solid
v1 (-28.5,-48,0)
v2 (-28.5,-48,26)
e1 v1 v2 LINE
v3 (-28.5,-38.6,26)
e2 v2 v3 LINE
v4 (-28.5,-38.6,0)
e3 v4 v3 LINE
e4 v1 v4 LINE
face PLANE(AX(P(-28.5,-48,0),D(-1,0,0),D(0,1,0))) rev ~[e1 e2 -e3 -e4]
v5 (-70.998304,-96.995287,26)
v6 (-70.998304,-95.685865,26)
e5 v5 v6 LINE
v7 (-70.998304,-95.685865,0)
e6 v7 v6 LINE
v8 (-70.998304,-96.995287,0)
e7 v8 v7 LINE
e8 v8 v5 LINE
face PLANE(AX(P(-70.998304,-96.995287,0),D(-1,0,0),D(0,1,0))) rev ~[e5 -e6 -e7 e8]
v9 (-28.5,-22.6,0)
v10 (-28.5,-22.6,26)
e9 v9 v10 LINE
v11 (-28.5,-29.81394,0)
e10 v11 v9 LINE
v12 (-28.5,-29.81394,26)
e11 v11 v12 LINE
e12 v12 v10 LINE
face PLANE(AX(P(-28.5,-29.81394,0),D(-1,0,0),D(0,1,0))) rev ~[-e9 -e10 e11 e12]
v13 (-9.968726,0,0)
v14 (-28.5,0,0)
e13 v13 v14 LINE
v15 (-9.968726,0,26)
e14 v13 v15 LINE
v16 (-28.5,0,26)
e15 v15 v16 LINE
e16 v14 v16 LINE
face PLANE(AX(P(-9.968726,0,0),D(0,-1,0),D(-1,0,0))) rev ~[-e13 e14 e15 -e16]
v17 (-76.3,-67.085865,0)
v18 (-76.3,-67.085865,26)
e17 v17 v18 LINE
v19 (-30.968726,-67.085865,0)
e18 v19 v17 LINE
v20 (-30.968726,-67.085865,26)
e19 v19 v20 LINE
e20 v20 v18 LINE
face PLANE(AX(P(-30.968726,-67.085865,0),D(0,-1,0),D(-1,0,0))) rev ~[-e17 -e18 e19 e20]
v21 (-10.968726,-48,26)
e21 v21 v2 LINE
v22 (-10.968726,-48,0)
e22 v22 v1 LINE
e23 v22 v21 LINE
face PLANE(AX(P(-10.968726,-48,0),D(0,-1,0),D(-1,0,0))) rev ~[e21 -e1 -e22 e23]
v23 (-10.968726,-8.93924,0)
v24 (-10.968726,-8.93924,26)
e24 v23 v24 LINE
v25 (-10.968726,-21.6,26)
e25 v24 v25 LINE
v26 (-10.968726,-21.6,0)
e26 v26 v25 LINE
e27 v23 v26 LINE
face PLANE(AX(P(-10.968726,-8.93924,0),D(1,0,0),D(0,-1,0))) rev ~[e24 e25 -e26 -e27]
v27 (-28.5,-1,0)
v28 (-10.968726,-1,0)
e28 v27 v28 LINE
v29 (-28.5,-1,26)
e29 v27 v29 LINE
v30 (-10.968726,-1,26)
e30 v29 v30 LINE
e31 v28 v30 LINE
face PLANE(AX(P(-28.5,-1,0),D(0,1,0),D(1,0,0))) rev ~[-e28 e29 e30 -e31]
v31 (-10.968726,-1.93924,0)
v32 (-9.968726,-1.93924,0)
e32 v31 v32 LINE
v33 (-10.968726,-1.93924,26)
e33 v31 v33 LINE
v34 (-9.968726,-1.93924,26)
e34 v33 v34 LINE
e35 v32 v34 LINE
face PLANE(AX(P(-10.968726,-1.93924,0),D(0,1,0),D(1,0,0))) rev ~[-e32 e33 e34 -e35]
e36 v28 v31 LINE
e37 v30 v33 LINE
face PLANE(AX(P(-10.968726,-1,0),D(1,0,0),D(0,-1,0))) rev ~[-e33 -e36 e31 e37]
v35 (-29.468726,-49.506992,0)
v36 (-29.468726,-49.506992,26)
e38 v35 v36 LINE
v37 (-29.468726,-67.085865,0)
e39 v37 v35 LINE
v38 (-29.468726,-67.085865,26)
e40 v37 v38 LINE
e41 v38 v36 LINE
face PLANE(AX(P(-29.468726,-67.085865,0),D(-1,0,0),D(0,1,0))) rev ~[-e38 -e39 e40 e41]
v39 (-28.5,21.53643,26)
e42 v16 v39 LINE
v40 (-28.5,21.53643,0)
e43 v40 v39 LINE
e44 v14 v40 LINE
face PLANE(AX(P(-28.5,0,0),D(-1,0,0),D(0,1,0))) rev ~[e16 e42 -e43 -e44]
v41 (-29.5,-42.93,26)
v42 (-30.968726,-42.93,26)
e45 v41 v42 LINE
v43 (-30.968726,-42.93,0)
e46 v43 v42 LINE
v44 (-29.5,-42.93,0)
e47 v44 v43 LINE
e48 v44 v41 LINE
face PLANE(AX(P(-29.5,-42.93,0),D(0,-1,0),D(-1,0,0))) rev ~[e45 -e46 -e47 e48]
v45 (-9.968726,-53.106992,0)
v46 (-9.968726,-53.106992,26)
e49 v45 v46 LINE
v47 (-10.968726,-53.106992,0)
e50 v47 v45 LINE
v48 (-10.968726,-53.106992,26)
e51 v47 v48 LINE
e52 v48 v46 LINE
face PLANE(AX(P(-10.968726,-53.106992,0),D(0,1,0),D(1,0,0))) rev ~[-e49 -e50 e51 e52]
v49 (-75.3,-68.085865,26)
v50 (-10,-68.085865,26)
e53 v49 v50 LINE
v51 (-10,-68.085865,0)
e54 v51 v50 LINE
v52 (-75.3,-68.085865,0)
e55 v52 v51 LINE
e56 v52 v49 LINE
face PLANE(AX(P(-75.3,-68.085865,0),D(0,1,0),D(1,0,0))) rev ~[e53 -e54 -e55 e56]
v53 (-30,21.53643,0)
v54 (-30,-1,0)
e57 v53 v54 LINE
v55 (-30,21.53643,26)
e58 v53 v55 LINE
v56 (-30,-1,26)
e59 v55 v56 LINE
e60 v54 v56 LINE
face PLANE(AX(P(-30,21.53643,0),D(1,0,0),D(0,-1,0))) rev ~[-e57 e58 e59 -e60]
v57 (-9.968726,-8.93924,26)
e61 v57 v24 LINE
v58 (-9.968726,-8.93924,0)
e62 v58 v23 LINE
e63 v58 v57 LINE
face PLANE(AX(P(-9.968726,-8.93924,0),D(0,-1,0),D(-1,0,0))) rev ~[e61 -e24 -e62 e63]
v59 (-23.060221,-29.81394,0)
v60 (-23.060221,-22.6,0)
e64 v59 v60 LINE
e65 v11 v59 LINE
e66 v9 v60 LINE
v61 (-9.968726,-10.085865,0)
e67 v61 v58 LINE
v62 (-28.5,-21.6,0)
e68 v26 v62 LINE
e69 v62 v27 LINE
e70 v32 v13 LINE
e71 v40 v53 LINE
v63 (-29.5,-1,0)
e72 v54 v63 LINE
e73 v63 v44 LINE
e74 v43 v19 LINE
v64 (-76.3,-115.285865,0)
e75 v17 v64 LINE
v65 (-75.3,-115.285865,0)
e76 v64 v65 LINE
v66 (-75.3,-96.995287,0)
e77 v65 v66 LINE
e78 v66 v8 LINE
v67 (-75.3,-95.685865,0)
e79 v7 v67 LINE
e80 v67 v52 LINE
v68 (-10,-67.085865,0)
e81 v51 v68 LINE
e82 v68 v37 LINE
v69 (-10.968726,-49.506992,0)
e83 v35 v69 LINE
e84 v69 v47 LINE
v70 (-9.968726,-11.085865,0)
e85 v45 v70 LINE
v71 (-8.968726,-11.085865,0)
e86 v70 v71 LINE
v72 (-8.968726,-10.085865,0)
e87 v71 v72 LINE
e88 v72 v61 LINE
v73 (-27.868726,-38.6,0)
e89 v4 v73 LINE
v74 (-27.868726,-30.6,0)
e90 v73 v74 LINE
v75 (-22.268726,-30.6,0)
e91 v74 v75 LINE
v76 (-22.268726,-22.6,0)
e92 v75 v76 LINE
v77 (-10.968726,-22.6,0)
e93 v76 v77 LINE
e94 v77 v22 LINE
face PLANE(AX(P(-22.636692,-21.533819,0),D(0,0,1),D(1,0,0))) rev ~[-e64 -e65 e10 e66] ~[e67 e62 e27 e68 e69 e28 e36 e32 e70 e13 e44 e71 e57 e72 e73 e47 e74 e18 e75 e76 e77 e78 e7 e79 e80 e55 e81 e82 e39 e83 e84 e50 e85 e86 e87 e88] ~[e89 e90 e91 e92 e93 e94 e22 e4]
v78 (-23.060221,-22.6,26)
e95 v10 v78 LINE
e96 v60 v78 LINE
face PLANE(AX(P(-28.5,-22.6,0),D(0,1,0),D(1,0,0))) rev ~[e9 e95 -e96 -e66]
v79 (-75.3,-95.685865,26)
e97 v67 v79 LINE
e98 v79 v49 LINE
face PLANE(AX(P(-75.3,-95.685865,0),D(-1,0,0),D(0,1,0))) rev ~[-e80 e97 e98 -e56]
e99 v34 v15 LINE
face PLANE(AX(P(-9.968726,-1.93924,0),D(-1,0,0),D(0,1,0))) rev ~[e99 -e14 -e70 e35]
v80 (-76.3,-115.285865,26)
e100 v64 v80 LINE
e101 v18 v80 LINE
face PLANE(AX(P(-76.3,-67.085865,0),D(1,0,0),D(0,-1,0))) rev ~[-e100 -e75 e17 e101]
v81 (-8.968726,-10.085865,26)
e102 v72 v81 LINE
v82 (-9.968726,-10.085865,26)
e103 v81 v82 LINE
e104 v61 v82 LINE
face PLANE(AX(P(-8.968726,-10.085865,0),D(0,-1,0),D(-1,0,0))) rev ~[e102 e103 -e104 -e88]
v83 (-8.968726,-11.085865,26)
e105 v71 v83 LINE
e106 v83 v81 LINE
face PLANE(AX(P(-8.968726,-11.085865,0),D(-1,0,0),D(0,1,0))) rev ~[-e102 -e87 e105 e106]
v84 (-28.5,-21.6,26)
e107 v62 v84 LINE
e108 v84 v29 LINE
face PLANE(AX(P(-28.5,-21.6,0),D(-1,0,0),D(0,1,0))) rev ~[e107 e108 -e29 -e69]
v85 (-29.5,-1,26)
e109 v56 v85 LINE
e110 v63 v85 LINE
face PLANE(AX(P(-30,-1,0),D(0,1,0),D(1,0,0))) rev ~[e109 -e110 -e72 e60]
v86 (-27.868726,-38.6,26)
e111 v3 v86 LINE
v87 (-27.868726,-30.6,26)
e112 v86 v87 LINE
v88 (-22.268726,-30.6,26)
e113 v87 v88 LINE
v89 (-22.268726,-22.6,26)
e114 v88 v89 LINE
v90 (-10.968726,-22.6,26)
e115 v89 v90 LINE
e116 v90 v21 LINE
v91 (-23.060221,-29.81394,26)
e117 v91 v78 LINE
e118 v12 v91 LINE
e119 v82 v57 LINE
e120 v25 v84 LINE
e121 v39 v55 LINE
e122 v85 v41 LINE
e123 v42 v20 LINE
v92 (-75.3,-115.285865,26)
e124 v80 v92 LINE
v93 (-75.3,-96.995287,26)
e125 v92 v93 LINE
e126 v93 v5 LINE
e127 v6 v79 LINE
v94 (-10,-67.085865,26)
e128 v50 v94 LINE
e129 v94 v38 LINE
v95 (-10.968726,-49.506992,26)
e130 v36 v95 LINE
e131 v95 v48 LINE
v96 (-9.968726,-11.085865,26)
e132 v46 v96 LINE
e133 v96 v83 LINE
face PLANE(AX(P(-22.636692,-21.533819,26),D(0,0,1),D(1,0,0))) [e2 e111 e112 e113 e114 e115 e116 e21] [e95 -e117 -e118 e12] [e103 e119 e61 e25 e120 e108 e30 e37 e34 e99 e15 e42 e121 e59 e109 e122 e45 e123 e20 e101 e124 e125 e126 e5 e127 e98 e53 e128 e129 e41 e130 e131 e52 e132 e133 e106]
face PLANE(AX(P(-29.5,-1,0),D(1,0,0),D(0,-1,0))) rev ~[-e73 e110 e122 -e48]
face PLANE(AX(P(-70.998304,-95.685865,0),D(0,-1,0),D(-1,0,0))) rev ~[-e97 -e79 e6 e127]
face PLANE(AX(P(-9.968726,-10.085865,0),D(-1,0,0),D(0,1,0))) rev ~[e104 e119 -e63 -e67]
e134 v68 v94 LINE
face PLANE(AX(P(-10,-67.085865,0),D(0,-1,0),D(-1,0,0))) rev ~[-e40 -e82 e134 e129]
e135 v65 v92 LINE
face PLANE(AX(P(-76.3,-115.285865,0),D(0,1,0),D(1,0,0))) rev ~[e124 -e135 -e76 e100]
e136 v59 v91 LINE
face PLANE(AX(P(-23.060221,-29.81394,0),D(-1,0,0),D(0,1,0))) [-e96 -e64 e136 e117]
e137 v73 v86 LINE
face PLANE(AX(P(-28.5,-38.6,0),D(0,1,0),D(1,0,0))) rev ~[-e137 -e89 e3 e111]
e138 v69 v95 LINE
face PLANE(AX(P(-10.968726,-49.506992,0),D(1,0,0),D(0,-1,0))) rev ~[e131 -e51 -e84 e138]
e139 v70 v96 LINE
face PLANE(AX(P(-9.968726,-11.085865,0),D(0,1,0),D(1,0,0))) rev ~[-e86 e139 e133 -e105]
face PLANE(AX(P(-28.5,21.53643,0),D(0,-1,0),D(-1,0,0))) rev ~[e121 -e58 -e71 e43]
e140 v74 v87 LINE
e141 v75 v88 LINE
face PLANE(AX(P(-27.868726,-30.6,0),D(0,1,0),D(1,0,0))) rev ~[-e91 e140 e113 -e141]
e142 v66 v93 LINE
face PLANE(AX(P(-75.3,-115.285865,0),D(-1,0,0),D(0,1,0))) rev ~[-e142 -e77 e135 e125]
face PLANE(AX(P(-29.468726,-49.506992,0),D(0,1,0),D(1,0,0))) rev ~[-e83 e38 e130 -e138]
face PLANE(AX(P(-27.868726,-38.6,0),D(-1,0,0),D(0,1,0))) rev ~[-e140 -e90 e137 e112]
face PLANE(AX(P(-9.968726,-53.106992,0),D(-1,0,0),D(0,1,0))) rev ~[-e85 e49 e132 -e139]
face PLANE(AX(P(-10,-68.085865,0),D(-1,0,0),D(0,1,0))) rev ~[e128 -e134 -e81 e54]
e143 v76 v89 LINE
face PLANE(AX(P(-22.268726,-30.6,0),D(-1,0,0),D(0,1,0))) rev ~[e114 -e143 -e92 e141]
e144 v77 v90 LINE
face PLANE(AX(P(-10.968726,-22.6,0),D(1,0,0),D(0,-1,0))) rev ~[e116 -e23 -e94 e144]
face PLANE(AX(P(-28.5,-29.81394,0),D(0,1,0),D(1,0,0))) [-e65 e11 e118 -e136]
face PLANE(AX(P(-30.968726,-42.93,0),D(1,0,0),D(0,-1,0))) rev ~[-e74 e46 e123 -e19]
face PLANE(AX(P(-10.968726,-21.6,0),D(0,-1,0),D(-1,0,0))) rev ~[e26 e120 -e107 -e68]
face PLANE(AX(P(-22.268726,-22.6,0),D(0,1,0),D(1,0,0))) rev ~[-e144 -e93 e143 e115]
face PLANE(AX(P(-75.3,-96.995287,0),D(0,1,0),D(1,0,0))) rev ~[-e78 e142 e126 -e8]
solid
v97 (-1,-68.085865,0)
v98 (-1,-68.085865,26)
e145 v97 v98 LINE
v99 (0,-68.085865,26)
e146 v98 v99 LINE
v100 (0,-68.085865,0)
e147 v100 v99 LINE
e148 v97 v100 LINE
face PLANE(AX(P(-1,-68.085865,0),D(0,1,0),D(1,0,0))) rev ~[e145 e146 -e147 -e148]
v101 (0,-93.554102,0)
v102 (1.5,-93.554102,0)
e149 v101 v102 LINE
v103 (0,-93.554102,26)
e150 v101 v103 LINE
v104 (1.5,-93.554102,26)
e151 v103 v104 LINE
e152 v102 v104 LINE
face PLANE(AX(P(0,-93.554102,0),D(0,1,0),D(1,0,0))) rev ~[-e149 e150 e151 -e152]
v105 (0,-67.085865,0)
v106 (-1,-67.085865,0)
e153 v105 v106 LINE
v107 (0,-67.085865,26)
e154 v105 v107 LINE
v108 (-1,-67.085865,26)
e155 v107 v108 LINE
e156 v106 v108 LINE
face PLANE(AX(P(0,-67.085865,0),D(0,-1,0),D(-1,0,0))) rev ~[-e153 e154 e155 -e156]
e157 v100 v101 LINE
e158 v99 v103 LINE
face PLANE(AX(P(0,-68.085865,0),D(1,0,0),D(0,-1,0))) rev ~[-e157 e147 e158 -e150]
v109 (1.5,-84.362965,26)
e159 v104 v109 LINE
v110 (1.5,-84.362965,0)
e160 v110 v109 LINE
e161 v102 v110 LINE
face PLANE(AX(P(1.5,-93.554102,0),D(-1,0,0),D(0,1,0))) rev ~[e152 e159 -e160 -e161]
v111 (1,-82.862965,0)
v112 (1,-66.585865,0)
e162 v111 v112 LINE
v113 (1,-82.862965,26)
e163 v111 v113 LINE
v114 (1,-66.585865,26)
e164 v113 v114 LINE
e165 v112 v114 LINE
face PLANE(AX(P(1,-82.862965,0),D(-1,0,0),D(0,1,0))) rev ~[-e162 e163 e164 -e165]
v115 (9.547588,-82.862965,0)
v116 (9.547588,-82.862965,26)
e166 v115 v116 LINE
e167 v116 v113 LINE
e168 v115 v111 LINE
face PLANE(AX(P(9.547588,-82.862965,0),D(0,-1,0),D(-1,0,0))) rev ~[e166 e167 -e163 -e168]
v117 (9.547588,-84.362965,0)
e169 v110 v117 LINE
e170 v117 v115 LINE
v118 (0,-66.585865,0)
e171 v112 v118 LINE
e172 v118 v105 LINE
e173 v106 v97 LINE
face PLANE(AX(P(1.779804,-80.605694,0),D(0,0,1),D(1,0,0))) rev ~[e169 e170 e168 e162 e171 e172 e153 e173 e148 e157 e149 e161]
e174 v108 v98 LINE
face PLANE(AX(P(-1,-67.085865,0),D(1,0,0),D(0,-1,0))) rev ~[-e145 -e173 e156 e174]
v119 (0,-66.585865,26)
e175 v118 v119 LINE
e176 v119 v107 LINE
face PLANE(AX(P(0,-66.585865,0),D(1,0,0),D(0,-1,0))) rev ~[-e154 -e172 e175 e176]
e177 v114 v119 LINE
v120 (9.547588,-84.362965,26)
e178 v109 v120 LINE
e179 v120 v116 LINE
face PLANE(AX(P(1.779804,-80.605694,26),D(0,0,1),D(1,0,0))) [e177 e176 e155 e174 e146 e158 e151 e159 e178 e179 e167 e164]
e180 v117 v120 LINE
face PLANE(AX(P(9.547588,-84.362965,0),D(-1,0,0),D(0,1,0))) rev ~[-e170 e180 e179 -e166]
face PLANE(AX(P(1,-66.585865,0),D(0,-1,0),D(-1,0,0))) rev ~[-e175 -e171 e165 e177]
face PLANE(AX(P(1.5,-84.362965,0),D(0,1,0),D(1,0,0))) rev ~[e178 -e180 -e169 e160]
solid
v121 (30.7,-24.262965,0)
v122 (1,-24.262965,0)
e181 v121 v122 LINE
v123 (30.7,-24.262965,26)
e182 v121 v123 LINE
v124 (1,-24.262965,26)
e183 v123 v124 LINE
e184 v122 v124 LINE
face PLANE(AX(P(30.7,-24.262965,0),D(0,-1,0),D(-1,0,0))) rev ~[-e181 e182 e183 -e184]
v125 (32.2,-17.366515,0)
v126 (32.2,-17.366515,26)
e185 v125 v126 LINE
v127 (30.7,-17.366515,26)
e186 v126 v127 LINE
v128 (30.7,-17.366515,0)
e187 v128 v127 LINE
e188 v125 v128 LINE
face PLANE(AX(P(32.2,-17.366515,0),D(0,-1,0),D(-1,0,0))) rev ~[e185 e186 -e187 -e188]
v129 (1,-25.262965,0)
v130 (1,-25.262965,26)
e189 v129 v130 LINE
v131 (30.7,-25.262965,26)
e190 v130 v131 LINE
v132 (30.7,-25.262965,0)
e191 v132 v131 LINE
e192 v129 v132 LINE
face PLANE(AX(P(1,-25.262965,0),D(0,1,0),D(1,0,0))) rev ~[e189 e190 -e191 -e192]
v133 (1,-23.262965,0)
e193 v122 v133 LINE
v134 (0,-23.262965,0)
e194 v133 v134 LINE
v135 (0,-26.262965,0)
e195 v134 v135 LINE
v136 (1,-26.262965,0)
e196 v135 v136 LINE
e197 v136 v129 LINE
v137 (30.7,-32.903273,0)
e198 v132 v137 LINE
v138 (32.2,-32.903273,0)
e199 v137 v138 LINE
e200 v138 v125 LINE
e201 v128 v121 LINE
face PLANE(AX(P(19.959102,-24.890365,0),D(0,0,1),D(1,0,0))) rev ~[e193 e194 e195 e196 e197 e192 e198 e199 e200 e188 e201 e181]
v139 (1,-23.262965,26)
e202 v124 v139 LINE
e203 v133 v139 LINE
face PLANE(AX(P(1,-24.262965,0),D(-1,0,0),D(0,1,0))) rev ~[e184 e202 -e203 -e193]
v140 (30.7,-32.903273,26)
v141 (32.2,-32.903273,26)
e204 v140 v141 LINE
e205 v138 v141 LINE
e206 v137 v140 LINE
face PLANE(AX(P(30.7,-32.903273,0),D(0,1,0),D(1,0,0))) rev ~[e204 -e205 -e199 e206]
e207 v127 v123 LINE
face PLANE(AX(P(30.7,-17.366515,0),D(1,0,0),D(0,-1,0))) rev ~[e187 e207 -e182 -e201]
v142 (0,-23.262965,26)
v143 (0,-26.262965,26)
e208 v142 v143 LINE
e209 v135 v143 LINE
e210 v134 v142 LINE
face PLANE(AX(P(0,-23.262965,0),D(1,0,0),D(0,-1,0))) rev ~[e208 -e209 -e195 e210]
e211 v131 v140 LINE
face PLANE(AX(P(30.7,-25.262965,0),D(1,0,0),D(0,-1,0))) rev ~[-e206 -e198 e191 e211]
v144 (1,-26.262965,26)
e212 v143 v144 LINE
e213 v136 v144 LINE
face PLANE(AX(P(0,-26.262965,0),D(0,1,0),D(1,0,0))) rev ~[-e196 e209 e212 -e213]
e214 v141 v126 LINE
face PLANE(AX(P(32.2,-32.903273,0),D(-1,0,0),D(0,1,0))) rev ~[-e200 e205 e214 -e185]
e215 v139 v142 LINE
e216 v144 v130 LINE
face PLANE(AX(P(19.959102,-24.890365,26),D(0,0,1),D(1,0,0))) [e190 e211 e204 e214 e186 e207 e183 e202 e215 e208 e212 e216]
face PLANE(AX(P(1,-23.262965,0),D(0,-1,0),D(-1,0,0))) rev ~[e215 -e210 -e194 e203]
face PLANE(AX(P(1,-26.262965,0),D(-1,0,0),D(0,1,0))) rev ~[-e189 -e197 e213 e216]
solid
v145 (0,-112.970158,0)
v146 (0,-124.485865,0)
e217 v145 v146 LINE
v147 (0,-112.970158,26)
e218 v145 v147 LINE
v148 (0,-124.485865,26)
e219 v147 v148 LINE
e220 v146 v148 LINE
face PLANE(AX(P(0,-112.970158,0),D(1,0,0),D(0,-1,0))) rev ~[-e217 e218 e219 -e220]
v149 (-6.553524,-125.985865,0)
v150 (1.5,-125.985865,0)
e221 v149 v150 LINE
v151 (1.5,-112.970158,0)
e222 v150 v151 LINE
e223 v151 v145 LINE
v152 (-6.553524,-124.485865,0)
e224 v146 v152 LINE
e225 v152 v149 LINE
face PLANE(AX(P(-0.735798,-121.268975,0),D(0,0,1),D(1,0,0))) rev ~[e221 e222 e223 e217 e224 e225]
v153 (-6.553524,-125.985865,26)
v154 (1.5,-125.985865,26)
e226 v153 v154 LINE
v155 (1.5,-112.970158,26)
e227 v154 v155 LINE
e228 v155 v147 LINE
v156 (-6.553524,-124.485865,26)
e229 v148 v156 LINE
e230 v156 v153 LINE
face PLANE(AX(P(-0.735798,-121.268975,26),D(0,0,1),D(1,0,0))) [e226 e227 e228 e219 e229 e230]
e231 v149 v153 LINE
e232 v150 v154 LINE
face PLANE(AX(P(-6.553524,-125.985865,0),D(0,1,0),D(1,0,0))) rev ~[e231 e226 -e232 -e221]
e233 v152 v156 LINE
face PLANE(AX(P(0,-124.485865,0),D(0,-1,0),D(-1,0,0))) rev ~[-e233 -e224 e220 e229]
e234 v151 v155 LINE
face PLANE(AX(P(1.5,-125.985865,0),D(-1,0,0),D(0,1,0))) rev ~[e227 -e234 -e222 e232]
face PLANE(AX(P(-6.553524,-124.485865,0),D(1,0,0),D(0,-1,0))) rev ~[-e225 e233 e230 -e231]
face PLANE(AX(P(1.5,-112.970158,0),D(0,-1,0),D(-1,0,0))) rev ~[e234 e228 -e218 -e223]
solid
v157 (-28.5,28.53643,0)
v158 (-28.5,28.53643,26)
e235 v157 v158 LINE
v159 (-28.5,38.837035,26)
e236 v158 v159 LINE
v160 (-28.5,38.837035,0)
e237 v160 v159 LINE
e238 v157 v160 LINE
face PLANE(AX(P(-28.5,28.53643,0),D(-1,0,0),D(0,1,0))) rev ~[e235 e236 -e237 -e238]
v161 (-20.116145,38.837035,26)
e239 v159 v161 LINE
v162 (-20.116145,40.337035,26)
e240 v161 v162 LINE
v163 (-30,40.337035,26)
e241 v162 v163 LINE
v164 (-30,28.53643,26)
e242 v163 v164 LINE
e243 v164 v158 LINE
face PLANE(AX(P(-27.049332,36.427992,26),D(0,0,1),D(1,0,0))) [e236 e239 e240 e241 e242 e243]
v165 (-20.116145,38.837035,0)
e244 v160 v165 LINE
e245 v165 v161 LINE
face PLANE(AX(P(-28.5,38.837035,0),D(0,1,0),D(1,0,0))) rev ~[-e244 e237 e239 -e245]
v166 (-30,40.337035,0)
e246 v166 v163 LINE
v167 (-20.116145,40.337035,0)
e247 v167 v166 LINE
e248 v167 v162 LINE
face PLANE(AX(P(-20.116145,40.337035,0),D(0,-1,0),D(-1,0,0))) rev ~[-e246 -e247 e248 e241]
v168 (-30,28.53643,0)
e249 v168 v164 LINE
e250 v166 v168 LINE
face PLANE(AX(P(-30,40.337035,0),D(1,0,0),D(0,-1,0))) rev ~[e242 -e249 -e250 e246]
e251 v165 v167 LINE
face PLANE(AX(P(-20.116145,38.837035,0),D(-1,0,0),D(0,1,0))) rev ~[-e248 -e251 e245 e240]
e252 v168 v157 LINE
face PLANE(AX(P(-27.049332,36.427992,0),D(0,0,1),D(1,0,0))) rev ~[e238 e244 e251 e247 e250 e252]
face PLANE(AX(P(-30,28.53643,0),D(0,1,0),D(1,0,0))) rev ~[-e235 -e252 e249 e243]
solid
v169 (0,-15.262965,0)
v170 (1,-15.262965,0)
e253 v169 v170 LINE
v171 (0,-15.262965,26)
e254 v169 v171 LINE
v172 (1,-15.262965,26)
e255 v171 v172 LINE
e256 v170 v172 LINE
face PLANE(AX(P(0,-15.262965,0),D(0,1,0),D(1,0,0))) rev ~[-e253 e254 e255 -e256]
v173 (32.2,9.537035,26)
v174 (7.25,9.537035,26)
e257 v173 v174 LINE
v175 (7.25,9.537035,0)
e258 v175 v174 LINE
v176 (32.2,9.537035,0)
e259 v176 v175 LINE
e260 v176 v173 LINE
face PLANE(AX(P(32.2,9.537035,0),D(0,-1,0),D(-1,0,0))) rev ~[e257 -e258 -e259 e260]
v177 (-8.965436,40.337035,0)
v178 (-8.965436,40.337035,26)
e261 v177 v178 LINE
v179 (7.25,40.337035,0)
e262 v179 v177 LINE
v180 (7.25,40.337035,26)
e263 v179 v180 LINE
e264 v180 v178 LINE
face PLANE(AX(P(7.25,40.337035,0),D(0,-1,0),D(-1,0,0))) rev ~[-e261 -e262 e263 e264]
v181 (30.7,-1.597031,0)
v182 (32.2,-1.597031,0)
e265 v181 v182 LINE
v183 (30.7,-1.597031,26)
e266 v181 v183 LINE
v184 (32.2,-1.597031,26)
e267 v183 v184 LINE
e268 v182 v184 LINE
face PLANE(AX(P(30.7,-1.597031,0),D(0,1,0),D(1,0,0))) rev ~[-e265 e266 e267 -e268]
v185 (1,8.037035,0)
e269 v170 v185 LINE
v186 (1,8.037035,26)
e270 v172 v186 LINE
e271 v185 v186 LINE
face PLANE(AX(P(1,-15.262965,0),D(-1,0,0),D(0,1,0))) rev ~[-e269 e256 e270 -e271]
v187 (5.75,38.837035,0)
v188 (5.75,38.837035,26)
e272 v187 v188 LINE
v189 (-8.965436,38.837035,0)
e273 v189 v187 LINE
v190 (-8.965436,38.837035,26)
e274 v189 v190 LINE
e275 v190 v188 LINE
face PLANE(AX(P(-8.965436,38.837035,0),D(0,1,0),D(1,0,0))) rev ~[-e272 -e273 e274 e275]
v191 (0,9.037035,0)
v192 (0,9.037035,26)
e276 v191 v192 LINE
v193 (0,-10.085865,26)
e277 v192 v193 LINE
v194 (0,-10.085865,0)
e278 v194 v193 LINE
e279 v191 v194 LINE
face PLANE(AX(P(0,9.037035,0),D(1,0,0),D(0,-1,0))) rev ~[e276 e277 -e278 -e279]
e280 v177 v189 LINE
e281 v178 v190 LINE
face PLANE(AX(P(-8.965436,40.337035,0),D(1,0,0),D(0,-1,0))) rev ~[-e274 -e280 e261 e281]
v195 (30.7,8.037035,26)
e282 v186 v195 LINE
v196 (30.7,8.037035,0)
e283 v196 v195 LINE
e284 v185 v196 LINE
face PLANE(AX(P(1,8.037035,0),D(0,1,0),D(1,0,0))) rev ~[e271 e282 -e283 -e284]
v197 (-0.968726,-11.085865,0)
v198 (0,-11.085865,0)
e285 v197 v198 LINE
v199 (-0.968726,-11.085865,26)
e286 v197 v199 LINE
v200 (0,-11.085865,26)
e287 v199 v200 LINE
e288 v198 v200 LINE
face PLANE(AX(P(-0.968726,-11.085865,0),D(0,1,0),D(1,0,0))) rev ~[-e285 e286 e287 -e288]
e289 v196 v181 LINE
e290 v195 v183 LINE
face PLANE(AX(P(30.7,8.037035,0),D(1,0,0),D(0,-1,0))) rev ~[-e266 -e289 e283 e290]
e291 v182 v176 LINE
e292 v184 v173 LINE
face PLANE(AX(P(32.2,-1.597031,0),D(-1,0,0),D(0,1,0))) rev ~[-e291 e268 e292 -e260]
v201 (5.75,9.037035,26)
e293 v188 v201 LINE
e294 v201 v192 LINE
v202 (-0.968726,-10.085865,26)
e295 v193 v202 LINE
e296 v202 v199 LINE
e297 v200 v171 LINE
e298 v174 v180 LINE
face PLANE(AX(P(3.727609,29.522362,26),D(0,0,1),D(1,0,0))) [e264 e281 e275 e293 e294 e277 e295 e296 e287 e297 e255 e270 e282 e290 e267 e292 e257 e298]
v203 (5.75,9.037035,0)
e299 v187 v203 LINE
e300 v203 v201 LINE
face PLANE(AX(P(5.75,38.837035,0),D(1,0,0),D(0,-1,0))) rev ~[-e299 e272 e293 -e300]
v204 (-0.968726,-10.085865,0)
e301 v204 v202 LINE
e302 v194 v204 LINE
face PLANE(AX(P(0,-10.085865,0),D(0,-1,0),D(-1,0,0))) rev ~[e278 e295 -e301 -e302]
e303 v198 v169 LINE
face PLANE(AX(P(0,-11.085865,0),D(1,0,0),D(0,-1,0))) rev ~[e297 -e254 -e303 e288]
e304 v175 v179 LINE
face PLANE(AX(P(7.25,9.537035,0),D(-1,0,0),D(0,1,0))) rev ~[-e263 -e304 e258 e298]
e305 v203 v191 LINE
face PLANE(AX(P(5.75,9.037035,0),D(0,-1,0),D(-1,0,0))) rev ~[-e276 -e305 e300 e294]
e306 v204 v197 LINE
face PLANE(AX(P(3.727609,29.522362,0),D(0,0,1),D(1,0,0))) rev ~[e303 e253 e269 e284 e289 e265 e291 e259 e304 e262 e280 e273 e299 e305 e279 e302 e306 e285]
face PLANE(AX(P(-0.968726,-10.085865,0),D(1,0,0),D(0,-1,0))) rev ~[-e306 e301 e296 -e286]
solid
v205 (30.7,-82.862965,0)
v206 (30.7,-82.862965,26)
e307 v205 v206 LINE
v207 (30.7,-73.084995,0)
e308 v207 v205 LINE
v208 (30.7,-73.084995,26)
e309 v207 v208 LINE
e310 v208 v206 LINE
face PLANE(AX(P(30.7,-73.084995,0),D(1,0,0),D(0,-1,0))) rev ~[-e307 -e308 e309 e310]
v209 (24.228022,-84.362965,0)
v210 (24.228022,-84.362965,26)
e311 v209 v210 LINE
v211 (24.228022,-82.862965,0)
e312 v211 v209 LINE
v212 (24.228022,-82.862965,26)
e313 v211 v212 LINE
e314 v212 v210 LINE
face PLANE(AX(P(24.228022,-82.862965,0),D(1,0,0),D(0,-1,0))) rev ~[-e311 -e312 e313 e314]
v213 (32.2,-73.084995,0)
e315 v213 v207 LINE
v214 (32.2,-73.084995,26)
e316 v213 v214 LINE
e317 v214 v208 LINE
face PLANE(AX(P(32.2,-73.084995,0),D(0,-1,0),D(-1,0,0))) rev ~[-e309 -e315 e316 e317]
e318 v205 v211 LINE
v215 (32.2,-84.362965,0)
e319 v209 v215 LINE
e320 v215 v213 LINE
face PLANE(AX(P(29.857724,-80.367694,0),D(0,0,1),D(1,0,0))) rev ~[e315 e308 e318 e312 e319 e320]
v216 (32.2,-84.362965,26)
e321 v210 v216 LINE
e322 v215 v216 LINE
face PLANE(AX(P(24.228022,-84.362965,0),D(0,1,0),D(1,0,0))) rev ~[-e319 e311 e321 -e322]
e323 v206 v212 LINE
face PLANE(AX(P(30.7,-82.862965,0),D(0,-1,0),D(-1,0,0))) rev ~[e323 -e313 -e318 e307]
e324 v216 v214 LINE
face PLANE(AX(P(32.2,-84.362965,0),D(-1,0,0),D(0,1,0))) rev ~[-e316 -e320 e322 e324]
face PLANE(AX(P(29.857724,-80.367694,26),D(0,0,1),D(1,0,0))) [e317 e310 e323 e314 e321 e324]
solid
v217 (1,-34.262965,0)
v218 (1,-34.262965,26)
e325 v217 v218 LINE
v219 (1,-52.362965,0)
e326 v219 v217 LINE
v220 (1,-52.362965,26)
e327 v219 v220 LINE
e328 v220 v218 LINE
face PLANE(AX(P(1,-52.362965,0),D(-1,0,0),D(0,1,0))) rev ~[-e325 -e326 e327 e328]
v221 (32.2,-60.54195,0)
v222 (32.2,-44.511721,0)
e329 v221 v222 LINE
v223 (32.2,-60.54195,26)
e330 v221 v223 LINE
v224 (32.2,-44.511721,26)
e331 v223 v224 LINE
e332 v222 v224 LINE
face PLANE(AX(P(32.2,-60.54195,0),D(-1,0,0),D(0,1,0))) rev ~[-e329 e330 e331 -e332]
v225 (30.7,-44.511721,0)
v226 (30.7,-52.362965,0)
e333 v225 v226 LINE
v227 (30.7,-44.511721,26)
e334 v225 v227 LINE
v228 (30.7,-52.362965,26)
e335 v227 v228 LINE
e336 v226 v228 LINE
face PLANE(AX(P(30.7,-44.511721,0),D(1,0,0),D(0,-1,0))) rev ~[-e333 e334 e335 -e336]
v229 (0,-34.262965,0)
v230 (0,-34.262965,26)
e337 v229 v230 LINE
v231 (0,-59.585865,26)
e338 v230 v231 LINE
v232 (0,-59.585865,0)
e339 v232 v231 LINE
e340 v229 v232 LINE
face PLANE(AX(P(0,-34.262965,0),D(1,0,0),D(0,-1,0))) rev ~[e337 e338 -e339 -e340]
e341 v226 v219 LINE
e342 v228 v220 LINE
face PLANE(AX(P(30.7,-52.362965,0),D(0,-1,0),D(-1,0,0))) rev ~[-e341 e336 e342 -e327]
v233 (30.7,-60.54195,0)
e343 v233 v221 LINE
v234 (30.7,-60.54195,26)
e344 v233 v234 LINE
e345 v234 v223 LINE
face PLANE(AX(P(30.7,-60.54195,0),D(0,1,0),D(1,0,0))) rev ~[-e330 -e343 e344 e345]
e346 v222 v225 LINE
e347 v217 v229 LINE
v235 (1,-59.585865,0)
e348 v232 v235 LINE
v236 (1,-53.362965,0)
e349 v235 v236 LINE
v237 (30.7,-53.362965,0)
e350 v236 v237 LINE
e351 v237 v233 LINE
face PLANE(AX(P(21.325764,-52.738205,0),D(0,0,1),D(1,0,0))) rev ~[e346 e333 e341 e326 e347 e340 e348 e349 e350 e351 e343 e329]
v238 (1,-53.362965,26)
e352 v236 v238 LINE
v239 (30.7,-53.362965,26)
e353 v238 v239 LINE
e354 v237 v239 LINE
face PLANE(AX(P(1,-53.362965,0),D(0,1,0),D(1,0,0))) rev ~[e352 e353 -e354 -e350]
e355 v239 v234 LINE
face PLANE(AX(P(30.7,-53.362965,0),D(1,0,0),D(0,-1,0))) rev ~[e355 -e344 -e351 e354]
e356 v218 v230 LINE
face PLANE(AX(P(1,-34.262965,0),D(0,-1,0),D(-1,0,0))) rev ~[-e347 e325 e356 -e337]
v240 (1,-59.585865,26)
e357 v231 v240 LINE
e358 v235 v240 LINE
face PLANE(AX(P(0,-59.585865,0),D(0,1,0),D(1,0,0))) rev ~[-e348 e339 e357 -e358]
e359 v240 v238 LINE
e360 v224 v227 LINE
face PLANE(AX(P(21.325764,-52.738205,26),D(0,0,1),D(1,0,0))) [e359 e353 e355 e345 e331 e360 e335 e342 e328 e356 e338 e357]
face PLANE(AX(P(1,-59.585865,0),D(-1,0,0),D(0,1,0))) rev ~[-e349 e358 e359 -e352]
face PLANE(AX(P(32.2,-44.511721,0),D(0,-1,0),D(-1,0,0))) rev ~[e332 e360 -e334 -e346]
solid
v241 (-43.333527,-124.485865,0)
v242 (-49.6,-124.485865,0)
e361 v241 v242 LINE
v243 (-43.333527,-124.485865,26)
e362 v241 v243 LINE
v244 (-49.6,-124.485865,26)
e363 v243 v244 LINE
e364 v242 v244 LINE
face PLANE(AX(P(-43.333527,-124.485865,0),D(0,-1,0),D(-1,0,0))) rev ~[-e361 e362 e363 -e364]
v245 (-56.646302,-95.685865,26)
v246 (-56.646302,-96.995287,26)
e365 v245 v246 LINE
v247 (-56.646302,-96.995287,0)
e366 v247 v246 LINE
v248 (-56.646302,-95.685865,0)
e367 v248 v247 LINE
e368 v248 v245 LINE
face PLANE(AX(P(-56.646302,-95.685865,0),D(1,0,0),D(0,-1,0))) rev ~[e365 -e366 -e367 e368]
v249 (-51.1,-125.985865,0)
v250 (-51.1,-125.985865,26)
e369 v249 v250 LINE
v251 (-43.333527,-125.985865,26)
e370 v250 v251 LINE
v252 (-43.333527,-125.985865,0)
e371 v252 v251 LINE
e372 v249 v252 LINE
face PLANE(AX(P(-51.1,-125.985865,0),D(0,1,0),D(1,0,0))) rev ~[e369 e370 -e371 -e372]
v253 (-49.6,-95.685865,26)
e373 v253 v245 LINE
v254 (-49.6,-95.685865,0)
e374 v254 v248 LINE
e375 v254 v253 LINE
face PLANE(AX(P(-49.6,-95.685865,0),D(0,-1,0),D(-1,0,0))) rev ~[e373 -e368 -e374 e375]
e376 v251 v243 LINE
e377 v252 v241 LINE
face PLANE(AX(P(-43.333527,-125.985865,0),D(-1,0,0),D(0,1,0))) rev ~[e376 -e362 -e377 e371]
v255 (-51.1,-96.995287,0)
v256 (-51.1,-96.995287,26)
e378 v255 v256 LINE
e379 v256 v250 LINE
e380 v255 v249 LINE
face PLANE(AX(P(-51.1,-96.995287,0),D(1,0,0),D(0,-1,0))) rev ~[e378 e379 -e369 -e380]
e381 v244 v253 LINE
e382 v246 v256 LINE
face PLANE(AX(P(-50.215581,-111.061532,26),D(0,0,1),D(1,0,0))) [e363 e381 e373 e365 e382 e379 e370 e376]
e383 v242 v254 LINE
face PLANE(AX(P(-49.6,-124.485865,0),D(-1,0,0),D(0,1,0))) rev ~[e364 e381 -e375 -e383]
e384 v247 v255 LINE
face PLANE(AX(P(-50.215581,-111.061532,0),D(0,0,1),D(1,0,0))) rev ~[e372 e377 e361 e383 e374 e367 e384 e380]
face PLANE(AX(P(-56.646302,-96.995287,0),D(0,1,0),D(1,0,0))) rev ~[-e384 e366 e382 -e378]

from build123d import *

# Parameters (mm, degrees)
F1_DEPTH = 26
F0_W     = 5.439778775
F0_H     = 7.2139397055


with BuildPart() as f1:
    # F0 (on Top) → F1 (new body)
    with BuildSketch(Plane.XY):
        Polygon((-30, 28.5364296287), (-28.5, 28.5364296287), (-28.5, 38.837035358), (-20.1161447912, 38.837035358), (-20.1161447912, 40.337035358), (-30, 40.337035358), align=None)
    extrude(amount=F1_DEPTH)


with BuildPart() as f1b:
    # F0 (on Top) → F1, piece 2 (new body)
    with BuildSketch(Plane.XY):
        Polygon((-8.9654363692, 40.337035358), (-8.9654363692, 38.837035358), (0, 38.837035358), (5.75, 38.837035358), (5.75, 9.537035358), (7.25, 9.537035358), (7.25, 40.337035358), (0, 40.337035358), align=None)
        Polygon((32.2, 9.537035358), (7.25, 9.537035358), (7.25, 8.037035358), (30.7, 8.037035358), (30.7, -1.5970306704), (32.2, -1.5970306704), align=None)
        Polygon((0, -10.0858646248), (-0.9687261283, -10.0858646248), (-0.9687261283, -10.5858646248), (-0.9687261283, -11.0858646248), (0, -11.0858646248), (0, -15.262964642), (1, -15.262964642), (1, 8.037035358), (7.25, 8.037035358), (7.25, 9.537035358), (5.75, 9.537035358), (5.75, 9.037035358), (0, 9.037035358), (0, 0), align=None)
    extrude(amount=F1_DEPTH)


with BuildPart() as f1c:
    # F0 (on Top) → F1, piece 3 (new body)
    with BuildSketch(Plane.XY):
        Polygon((-9.9687261283, -1.939239528), (-9.9687261283, 0), (-28.5, 0), (-28.5, 21.5364296287), (-29.25, 21.5364296287), (-30, 21.5364296287), (-30, 21.337035358), (-30, 0), (-30, -1), (-29.5, -1), (-29.5, -20.0283872778), (-29.5, -42.9299995303), (-30.9687261283, -42.9299995303), (-30.9687261283, -67.0858646248), (-29.4687261283, -67.0858646248), (-29.4687261283, -53.1069921017), (-29.4687261283, -49.5069921017), (-10.9687261283, -49.5069921017), (-10.9687261283, -53.1069921017), (-9.9687261283, -53.1069921017), (-9.9687261283, -11.0858646248), (-8.9687261283, -11.0858646248), (-8.9687261283, -10.0858646248), (-9.9687261283, -10.0858646248), (-9.9687261283, -8.939239528), (-10.9687261283, -8.939239528), (-10.9687261283, -21.6), (-28.1687261283, -21.6), (-28.5, -21.6), (-28.5, -1), (-28.1687261283, -1), (-10.9687261283, -1), (-10.9687261283, -1.939239528), (-10.4687261283, -1.939239528), align=None)
        with Locations((-25.7801106125, -26.2069698527)):
            Rectangle(F0_W, F0_H, mode=Mode.SUBTRACT)
        Polygon((-22.2687261283, -30.6), (-22.2687261283, -22.6), (-10.9687261283, -22.6), (-10.9687261283, -30.6), (-10.9687261283, -38.6), (-10.9687261283, -48), (-28.1687261283, -48), (-28.5, -48), (-28.5, -38.6), (-27.8687261283, -38.6), (-27.8687261283, -30.6), align=None, mode=Mode.SUBTRACT)
        Polygon((-10.9687261283, -67.0858646248), (-29.4687261283, -67.0858646248), (-30.9687261283, -67.0858646248), (-76.3, -67.0858646248), (-76.3, -115.2858646248), (-75.3, -115.2858646248), (-75.3, -96.9952866435), (-70.9983035922, -96.9952866435), (-70.9983035922, -95.6858646248), (-75.3, -95.6858646248), (-75.3, -68.0858646248), (-51.1, -68.0858646248), (-49.6, -68.0858646248), (-10.9687261283, -68.0858646248), (-10, -68.0858646248), (-10, -67.0858646248), align=None)
    extrude(amount=F1_DEPTH)


with BuildPart() as f1d:
    # F0 (on Top) → F1, piece 4 (new body)
    with BuildSketch(Plane.XY):
        Polygon((30.7, -52.362964642), (1, -52.362964642), (1, -53.362964642), (30.7, -53.362964642), (30.7, -60.5419501662), (32.2, -60.5419501662), (32.2, -44.5117205381), (30.7, -44.5117205381), align=None)
        Polygon((1, -34.262964642), (0, -34.262964642), (0, -59.5858646248), (1, -59.5858646248), (1, -53.362964642), (1, -52.362964642), align=None)
    extrude(amount=F1_DEPTH)


with BuildPart() as f1e:
    # F0 (on Top) → F1, piece 5 (new body)
    with BuildSketch(Plane.XY):
        Polygon((30.7, -82.862964642), (24.2280215025, -82.862964642), (24.2280215025, -84.362964642), (32.2, -84.362964642), (32.2, -73.0849951506), (30.7, -73.0849951506), align=None)
    extrude(amount=F1_DEPTH)


with BuildPart() as f1f:
    # F0 (on Top) → F1, piece 6 (new body)
    with BuildSketch(Plane.XY):
        Polygon((1, -66.5858646248), (0, -66.5858646248), (0, -67.0858646248), (-1, -67.0858646248), (-1, -67.5858646248), (-1, -68.0858646248), (0, -68.0858646248), (0, -93.5541018844), (1.5, -93.5541018844), (1.5, -84.362964642), (9.5475884154, -84.362964642), (9.5475884154, -82.862964642), (1, -82.862964642), align=None)
    extrude(amount=F1_DEPTH)


with BuildPart() as f1g:
    # F0 (on Top) → F1, piece 7 (new body)
    with BuildSketch(Plane.XY):
        Polygon((1.5, -112.9701584578), (0, -112.9701584578), (0, -124.4858646248), (-6.5535241738, -124.4858646248), (-6.5535241738, -125.9858646248), (1.5, -125.9858646248), align=None)
    extrude(amount=F1_DEPTH)


with BuildPart() as f1h:
    # F0 (on Top) → F1, piece 8 (new body)
    with BuildSketch(Plane.XY):
        Polygon((-51.1, -96.9952866435), (-51.1, -115.2858646248), (-51.1, -125.9858646248), (-43.3335267007, -125.9858646248), (-43.3335267007, -124.4858646248), (-49.6, -124.4858646248), (-49.6, -95.6858646248), (-51.1, -95.6858646248), (-56.6463023424, -95.6858646248), (-56.6463023424, -96.9952866435), align=None)
    extrude(amount=F1_DEPTH)


with BuildPart() as f1i:
    # F0 (on Top) → F1, piece 9 (new body)
    with BuildSketch(Plane.XY):
        Polygon((0.5, -23.262964642), (0, -23.262964642), (0, -26.262964642), (0.5, -26.262964642), (1, -26.262964642), (1, -25.262964642), (5.75, -25.262964642), (30.7, -25.262964642), (30.7, -32.9032726586), (32.2, -32.9032726586), (32.2, -25.262964642), (32.2, -17.3665154725), (30.7, -17.3665154725), (30.7, -24.262964642), (1, -24.262964642), (1, -23.262964642), align=None)
    extrude(amount=F1_DEPTH)


solid = Compound([f1.part, f1b.part, f1c.part, f1d.part, f1e.part, f1f.part, f1g.part, f1h.part, f1i.part])
